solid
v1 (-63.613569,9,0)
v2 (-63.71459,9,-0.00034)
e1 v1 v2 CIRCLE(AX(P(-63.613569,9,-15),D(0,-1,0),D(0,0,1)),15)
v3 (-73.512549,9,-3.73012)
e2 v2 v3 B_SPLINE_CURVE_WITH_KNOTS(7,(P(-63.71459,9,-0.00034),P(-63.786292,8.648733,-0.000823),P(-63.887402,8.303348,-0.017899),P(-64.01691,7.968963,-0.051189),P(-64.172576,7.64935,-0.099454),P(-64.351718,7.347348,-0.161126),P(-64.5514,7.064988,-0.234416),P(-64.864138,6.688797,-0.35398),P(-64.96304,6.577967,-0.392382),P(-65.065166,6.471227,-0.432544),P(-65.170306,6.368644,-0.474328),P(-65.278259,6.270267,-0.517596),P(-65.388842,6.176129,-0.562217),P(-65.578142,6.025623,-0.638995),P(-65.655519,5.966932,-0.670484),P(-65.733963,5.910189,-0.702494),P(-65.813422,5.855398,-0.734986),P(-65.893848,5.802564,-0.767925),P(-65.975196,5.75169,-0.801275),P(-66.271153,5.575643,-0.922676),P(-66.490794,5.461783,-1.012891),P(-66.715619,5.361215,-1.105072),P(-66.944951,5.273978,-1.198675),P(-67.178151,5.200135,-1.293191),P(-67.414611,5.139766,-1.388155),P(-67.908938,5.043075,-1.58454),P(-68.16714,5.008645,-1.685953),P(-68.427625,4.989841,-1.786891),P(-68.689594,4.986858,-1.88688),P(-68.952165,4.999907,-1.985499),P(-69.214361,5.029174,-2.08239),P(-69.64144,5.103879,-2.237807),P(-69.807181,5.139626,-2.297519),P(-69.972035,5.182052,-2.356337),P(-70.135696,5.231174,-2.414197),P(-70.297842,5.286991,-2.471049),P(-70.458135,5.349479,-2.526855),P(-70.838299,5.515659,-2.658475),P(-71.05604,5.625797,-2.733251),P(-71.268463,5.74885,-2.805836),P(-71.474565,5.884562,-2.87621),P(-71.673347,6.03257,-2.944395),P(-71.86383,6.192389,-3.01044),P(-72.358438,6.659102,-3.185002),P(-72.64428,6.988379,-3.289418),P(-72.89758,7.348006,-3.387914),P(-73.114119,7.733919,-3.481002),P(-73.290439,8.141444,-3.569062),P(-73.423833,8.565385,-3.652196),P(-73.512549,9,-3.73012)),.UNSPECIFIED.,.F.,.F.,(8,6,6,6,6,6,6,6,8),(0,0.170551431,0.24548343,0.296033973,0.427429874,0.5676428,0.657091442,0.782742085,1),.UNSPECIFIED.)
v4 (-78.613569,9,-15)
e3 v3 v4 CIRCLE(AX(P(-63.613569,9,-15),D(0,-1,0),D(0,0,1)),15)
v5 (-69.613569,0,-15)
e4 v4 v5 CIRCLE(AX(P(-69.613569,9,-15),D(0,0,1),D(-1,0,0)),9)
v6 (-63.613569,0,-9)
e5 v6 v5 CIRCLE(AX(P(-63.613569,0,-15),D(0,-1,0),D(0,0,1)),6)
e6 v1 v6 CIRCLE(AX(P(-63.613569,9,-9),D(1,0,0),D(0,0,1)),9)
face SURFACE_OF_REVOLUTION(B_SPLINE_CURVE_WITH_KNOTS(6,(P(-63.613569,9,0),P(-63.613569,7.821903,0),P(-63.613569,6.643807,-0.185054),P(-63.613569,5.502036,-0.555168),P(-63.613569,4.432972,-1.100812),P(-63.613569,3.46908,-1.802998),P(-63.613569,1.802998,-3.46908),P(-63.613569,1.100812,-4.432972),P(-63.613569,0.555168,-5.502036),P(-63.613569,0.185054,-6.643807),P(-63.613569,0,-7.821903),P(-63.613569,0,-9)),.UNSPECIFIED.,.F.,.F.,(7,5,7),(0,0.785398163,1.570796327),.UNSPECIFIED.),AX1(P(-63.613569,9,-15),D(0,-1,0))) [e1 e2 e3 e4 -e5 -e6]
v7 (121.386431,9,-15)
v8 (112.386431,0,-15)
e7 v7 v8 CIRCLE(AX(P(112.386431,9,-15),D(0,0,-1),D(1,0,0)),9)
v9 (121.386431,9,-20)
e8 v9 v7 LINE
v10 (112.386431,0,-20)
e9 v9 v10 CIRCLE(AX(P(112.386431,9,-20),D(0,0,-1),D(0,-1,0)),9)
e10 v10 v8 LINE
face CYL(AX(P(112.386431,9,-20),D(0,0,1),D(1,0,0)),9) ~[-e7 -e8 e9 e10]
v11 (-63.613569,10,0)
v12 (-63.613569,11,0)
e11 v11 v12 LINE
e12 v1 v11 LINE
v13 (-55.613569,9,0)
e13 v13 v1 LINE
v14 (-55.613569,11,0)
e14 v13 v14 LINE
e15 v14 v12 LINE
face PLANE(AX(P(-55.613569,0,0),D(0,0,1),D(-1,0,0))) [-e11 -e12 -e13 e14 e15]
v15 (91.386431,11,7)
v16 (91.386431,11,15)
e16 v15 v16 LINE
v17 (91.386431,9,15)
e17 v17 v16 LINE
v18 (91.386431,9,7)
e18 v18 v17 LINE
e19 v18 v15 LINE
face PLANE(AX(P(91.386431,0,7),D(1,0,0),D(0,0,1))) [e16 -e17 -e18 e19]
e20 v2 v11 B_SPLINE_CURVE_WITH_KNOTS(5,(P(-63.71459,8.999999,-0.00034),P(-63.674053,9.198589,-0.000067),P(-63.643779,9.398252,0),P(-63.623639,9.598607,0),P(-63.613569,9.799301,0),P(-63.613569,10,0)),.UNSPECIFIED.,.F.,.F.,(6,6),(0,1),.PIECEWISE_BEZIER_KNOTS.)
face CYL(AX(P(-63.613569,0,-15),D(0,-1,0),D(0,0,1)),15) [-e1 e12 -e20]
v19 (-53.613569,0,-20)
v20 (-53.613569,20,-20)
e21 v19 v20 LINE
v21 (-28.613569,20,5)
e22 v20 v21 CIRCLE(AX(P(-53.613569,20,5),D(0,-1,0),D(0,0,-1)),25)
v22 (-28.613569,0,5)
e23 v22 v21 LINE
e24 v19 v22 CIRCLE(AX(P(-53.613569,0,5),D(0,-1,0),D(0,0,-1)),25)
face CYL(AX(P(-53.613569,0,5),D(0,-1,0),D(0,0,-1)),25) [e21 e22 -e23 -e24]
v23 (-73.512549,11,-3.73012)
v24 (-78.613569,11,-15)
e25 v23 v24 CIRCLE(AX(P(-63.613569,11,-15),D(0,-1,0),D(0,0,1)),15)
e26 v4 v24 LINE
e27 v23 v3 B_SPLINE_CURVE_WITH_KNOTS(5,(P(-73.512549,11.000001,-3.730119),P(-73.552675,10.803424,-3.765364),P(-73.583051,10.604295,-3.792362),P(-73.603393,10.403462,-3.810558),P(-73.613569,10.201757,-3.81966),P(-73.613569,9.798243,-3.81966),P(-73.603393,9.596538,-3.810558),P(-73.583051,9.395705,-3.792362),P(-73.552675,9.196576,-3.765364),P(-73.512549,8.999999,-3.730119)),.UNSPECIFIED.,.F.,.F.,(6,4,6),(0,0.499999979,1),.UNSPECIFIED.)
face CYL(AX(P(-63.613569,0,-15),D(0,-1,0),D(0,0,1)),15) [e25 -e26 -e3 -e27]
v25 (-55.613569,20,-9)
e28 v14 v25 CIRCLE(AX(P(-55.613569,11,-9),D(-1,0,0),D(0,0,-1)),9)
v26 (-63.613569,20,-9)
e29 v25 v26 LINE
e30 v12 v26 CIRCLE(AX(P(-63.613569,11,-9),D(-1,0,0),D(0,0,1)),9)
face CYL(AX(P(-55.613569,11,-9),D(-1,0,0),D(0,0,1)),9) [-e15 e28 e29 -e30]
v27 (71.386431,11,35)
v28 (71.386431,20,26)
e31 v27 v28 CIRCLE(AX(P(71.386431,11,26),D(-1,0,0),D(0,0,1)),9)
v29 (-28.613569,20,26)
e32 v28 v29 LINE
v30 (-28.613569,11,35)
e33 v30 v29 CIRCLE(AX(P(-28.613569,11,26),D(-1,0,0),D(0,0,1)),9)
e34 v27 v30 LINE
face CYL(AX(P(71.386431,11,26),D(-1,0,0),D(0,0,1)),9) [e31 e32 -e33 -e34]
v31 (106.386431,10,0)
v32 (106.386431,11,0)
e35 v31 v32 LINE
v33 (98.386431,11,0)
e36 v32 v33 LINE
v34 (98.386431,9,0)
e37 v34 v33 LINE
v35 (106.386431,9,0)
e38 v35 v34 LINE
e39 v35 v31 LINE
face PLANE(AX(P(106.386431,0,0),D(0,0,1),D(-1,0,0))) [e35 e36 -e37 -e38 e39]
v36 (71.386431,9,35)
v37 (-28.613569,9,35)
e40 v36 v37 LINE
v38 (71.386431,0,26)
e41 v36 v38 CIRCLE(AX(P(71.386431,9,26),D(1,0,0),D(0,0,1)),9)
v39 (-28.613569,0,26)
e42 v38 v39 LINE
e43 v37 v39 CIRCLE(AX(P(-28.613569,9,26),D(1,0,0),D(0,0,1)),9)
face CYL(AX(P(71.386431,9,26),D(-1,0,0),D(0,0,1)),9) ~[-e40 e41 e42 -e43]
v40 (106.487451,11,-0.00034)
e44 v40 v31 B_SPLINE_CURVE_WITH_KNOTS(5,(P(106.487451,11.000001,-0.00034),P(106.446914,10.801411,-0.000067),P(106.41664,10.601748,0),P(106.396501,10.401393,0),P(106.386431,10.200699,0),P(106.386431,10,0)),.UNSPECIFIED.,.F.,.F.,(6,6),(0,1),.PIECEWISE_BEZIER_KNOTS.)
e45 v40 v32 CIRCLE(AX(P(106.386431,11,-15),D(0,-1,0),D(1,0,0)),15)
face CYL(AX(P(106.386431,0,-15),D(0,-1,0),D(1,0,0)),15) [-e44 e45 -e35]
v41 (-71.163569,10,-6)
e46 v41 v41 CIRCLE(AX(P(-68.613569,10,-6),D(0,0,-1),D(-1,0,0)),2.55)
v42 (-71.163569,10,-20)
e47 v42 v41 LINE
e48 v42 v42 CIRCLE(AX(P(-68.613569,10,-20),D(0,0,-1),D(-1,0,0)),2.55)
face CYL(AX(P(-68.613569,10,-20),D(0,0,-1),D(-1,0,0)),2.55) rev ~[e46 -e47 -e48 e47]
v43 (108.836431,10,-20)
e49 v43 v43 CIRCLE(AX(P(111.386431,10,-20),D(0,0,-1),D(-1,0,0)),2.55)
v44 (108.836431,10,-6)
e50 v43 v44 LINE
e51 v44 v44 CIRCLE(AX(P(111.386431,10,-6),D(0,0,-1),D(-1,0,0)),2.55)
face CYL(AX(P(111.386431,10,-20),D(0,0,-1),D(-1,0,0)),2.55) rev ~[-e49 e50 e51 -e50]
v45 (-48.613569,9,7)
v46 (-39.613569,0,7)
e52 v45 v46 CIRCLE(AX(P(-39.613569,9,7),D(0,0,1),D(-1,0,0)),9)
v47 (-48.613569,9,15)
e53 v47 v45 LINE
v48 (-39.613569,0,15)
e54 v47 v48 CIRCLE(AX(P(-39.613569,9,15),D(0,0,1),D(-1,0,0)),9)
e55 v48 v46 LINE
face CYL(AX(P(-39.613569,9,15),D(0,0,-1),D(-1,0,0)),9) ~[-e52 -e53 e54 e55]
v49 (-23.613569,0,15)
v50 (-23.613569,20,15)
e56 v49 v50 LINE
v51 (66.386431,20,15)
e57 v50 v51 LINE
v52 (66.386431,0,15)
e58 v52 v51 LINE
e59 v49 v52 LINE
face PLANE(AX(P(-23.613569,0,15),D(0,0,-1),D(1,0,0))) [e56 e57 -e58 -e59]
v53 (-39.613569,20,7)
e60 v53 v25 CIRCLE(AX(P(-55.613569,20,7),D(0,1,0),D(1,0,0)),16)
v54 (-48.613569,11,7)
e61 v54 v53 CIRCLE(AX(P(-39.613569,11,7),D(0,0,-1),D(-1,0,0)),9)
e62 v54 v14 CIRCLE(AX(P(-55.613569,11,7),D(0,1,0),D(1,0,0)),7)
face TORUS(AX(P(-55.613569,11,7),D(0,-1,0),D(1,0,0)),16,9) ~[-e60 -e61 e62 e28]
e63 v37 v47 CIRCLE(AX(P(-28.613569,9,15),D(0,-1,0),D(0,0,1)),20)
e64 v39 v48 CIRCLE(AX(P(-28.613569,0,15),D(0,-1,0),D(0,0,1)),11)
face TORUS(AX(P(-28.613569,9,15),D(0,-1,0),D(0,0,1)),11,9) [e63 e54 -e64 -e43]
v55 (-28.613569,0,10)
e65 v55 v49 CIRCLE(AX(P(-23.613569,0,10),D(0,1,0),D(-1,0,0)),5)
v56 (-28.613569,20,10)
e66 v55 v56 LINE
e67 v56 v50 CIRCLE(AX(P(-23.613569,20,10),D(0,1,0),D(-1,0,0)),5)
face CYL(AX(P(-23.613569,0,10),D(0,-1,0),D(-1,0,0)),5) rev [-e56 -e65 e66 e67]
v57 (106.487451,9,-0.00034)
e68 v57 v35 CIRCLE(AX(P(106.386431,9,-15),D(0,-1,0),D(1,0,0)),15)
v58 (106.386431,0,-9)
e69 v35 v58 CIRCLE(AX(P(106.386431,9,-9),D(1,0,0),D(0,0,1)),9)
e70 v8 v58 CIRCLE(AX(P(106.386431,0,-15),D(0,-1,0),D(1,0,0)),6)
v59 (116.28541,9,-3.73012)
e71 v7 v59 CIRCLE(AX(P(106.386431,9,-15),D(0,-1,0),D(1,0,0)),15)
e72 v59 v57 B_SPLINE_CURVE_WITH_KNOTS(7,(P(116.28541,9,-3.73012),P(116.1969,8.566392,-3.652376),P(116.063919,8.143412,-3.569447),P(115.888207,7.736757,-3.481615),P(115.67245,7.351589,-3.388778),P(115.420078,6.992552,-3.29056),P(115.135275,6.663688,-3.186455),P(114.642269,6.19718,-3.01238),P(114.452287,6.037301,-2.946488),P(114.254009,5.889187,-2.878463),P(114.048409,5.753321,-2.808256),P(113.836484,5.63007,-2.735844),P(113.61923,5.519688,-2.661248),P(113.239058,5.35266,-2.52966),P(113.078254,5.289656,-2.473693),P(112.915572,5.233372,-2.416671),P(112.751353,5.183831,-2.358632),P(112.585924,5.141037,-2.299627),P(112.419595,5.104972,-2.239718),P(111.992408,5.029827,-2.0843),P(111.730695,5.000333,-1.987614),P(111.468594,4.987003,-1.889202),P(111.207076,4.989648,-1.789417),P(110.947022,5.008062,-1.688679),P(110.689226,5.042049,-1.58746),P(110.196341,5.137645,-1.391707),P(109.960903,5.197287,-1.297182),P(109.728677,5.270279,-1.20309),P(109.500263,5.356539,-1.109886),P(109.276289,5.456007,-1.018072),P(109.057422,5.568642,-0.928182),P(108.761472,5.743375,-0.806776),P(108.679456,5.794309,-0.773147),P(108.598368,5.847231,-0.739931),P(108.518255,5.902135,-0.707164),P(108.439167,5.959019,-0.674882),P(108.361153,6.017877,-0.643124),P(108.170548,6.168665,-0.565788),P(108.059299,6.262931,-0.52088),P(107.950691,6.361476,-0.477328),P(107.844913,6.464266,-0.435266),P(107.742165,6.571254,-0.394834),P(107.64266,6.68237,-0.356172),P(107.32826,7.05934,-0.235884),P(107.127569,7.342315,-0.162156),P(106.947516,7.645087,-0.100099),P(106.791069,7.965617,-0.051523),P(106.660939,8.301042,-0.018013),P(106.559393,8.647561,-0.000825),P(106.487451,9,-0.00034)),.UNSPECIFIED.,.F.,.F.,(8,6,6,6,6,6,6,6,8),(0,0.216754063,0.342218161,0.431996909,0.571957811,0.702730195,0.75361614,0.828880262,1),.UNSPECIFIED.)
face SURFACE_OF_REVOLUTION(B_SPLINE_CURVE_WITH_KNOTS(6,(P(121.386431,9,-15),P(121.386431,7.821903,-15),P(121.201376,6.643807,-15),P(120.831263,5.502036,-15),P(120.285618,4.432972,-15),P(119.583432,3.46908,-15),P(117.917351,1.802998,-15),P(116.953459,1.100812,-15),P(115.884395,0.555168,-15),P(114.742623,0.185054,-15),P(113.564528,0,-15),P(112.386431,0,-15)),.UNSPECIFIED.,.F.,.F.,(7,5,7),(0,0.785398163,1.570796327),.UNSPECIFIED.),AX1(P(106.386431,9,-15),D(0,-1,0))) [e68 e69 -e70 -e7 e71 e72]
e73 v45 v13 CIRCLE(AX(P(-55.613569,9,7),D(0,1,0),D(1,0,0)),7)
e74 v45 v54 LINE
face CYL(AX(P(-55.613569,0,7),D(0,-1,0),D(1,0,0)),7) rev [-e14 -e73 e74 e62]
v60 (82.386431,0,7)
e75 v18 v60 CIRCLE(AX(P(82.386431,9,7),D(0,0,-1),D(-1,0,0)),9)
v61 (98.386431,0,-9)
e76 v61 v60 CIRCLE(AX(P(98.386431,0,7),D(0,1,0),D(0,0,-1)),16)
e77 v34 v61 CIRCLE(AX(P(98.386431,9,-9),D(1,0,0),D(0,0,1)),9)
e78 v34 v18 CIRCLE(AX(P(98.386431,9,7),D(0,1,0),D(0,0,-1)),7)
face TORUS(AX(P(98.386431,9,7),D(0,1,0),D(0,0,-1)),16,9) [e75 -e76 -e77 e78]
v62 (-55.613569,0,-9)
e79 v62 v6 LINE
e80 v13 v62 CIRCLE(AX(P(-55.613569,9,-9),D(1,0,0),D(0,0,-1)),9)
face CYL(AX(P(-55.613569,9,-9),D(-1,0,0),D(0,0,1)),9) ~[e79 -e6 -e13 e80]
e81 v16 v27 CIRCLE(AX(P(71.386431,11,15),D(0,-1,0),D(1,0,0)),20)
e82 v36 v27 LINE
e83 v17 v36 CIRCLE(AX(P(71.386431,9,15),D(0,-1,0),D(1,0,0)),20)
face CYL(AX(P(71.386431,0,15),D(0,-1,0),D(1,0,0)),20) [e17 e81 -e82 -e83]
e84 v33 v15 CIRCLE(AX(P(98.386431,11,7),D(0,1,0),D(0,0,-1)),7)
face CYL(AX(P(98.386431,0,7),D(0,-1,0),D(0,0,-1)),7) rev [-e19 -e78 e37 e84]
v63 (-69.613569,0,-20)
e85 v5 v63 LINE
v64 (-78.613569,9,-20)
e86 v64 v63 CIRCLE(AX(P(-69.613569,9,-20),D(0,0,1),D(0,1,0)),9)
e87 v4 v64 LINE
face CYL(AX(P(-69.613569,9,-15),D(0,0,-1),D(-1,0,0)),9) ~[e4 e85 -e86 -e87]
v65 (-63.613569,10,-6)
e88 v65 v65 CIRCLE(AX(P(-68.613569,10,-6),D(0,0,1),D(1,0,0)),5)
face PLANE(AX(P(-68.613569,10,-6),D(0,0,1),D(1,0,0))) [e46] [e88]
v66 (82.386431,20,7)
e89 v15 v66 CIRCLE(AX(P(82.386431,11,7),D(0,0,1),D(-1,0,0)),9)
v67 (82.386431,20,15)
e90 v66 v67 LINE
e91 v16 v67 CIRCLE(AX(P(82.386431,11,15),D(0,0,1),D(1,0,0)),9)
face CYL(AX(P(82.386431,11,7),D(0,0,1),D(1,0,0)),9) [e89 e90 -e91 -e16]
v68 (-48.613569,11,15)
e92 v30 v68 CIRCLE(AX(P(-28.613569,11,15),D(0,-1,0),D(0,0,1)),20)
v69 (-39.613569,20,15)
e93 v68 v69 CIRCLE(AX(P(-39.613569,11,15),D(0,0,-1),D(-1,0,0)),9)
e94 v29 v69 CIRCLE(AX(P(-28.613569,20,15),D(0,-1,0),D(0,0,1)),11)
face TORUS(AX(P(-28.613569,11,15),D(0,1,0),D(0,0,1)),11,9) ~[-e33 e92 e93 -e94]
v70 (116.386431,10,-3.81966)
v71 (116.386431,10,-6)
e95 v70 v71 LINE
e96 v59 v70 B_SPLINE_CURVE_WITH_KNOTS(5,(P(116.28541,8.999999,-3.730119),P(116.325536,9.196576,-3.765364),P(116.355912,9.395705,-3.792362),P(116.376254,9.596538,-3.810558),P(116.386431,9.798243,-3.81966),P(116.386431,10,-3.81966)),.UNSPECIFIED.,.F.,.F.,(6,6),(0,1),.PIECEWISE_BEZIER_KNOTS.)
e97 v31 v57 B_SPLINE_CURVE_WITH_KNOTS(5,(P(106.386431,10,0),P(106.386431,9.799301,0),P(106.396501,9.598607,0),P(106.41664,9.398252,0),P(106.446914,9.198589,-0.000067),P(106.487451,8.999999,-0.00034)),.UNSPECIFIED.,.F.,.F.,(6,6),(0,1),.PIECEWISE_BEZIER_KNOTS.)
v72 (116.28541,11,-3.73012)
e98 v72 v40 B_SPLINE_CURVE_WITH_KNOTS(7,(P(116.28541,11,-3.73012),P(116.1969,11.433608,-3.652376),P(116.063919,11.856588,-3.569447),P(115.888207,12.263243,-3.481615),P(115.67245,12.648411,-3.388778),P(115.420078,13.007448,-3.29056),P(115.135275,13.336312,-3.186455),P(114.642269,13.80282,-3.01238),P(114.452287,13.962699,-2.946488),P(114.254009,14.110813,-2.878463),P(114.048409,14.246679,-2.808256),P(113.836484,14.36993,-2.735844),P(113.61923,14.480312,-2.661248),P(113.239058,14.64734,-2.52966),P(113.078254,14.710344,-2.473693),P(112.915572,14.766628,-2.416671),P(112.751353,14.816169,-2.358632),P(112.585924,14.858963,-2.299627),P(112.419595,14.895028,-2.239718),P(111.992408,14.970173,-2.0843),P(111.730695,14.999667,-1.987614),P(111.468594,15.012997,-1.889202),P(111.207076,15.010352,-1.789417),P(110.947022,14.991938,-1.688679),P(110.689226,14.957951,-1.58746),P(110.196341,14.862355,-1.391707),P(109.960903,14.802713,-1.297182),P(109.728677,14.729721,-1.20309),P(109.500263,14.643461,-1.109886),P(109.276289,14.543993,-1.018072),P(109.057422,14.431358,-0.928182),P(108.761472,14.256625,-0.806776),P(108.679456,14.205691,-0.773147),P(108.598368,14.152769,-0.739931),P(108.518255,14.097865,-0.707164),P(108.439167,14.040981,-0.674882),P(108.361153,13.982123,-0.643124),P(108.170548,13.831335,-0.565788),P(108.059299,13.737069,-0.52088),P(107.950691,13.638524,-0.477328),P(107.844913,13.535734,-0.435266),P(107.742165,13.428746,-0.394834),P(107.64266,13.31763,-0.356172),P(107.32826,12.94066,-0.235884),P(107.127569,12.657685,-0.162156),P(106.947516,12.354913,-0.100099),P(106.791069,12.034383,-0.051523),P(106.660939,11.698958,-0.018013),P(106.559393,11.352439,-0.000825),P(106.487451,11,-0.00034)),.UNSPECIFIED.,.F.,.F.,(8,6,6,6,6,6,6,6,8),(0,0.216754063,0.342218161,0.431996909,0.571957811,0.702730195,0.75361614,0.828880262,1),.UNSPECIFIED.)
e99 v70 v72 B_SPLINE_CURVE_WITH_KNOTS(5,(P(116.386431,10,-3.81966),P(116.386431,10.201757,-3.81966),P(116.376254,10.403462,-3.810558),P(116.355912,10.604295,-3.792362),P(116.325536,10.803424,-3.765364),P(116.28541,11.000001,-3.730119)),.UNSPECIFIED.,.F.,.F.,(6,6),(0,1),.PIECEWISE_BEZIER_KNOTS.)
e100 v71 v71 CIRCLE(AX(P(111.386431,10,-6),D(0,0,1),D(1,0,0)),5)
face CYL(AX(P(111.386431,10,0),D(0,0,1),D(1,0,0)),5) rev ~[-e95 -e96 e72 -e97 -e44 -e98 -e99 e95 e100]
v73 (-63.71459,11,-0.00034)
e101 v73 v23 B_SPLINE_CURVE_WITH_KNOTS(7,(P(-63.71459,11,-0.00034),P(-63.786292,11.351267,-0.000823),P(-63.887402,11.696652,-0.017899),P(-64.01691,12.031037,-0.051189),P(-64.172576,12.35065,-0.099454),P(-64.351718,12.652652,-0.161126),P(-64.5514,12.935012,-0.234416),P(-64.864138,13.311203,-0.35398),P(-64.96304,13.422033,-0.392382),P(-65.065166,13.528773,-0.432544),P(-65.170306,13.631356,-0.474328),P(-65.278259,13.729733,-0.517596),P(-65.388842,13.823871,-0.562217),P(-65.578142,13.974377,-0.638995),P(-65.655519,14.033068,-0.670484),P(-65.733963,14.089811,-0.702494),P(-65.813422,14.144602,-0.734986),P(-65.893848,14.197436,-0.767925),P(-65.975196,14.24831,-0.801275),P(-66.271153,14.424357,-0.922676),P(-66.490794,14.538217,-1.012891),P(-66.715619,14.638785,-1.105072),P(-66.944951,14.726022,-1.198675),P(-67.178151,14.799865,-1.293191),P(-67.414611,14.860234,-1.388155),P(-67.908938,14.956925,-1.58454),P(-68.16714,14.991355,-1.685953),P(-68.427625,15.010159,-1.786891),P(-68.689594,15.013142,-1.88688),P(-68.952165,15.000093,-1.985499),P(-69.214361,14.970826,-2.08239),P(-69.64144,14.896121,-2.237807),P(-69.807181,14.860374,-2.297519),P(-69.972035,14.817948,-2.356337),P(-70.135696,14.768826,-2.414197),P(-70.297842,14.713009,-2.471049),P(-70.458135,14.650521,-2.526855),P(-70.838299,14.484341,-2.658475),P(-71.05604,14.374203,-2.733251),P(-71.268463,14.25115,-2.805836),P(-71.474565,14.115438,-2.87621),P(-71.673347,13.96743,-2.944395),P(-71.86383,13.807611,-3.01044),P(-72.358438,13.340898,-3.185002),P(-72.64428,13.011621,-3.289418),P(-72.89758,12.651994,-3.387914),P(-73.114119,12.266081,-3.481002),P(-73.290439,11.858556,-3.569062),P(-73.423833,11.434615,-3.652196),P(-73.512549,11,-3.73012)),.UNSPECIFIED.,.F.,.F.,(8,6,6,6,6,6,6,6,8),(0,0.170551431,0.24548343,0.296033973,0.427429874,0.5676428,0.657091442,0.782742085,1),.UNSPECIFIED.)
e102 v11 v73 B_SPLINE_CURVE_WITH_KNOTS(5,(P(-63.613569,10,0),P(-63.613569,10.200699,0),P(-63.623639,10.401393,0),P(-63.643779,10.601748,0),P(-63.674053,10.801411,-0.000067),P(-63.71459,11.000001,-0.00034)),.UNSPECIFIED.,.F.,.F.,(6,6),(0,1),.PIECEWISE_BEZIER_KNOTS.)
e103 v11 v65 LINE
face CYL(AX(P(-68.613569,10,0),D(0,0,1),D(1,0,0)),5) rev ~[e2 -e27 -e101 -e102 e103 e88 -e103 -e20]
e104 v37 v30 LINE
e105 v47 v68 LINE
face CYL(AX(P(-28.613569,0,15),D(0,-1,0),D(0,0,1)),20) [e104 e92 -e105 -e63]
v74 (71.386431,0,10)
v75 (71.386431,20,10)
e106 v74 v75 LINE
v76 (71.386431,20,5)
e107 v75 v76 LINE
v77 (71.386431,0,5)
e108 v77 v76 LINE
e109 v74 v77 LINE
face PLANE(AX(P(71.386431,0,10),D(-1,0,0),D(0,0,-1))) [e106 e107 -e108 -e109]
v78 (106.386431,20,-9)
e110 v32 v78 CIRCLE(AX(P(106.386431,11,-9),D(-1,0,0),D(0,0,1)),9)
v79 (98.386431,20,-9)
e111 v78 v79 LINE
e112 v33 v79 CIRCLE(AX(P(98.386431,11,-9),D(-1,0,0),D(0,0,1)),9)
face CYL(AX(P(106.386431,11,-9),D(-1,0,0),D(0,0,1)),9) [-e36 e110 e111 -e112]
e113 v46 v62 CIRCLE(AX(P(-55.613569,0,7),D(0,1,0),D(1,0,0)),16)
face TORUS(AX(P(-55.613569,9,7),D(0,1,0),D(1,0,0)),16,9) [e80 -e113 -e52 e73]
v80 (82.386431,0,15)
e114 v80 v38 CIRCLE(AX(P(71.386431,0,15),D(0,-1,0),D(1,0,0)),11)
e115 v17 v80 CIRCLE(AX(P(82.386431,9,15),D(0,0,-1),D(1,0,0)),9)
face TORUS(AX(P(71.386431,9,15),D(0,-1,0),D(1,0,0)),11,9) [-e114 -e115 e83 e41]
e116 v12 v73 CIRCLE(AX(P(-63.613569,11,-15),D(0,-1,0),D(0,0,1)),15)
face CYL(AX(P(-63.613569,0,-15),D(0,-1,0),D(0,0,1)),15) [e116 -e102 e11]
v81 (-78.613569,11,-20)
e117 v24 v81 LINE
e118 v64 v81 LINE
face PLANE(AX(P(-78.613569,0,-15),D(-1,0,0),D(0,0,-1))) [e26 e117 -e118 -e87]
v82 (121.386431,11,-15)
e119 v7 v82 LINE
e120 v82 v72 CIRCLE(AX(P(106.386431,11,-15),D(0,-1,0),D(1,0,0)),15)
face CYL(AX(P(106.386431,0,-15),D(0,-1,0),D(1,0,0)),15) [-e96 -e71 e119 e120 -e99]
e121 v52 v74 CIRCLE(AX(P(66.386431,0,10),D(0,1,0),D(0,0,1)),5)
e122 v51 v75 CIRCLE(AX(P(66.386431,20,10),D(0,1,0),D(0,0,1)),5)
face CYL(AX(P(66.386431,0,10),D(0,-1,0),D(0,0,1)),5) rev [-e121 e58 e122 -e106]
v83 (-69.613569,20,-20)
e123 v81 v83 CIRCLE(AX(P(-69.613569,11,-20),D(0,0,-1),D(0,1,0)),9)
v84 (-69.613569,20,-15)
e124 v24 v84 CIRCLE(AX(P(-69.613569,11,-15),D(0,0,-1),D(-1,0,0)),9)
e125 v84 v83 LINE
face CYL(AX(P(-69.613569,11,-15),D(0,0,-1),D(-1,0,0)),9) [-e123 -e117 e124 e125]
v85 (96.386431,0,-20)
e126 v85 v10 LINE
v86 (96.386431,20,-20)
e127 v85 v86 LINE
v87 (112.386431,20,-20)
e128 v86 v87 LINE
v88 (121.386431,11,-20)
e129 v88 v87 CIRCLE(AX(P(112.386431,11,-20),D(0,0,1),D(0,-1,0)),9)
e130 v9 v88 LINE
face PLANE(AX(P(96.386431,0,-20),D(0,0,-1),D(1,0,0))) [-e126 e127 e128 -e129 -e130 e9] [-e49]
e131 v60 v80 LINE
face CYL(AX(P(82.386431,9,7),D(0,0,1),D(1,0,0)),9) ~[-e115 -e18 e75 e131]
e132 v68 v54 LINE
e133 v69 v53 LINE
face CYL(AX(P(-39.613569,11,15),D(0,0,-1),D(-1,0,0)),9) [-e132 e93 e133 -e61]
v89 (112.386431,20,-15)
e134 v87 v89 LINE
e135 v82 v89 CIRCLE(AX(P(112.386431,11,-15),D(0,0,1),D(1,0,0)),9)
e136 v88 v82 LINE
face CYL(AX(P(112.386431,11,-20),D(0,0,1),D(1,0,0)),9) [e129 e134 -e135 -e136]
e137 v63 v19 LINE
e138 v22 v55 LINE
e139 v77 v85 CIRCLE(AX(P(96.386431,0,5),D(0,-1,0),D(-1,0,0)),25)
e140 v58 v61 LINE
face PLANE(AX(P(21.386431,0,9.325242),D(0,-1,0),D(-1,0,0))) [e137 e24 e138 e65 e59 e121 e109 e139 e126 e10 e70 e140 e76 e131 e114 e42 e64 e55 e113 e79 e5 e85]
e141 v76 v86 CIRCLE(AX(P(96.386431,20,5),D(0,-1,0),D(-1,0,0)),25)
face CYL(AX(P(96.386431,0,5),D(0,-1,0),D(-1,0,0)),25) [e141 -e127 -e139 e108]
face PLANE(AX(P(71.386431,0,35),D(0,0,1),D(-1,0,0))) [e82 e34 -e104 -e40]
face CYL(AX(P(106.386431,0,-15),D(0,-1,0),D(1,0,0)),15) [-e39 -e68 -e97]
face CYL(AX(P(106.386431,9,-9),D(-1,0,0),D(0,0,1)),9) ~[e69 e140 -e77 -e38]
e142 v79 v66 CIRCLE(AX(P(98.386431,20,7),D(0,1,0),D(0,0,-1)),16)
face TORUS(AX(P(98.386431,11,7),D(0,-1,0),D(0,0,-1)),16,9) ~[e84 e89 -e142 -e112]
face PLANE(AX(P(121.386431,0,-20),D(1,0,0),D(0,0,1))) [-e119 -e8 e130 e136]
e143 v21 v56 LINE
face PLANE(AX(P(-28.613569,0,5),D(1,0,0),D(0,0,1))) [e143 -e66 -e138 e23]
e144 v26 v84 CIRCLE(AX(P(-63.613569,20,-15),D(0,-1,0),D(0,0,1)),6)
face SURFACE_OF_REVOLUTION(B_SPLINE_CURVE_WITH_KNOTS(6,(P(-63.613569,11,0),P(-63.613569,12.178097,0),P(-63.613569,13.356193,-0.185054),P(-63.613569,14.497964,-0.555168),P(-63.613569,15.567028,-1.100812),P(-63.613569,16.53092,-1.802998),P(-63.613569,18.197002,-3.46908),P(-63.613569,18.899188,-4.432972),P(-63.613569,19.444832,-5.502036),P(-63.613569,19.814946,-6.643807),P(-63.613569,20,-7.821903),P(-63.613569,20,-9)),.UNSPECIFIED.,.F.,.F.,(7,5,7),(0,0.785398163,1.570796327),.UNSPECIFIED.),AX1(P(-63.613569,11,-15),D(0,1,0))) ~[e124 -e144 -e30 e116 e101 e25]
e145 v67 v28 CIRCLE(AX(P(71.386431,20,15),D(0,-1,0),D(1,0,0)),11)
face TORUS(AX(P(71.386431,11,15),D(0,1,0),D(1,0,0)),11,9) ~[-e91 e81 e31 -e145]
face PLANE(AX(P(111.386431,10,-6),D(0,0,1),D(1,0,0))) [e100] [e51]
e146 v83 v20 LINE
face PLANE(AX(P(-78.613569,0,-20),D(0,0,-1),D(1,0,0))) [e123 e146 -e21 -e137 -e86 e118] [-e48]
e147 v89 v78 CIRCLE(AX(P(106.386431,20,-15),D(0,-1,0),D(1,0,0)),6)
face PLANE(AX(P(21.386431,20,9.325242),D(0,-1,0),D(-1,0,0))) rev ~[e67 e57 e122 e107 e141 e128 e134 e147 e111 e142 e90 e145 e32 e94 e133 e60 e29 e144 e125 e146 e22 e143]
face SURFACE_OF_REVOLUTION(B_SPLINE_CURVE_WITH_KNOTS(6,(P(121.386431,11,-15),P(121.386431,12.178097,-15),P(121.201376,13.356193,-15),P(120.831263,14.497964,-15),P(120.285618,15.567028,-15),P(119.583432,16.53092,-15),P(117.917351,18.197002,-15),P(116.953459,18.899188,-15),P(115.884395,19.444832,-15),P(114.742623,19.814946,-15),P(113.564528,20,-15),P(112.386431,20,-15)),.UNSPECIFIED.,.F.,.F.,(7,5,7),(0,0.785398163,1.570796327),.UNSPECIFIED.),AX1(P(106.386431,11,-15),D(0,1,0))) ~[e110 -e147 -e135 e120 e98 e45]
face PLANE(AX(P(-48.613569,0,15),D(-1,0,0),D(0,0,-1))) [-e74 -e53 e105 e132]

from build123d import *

# Parameters (mm, degrees)
EXTRUDE_1_DEPTH     = 20
FILLET_1_R          = 9
SKETCH_2_R          = 2.55
CUT_EXTRUDE_1_DEPTH = 135.75780331
SKETCH_3_R          = 5
CUT_EXTRUDE_2_DEPTH = 6


with BuildPart() as part:
    # Эскиз1 → Бобышка-Вытянуть1 (new body)
    with BuildSketch(Plane(origin=(0, 0, 0), x_dir=(1, 0, 0), z_dir=(0, 1, 0))):
        with BuildLine():
            Line((-78.613569322, 20), (-53.613569322, 20))
            ThreePointArc((-53.613569322, 20), (-35.935899792, 12.67766953), (-28.613569322, -5))
            Line((-28.613569322, -5), (-28.613569322, -10))
            ThreePointArc((-28.613569322, -10), (-27.149103227, -13.535533906), (-23.613569322, -15))
            Line((-23.613569322, -15), (66.386430678, -15))
            ThreePointArc((66.386430678, -15), (69.921964584, -13.535533906), (71.386430678, -10))
            Line((71.386430678, -10), (71.386430678, -5))
            ThreePointArc((71.386430678, -5), (78.708761149, 12.67766953), (96.386430678, 20))
            Line((96.386430678, 20), (121.386430678, 20))
            Line((121.386430678, 20), (121.386430678, 15))
            ThreePointArc((121.386430678, 15), (116.993032396, 4.393398282), (106.386430678, 0))
            Line((106.386430678, 0), (98.386430678, 0))
            ThreePointArc((98.386430678, 0), (93.43668321, -2.050252532), (91.386430678, -7))
            Line((91.386430678, -7), (91.386430678, -15))
            ThreePointArc((91.386430678, -15), (85.528566302, -29.142135624), (71.386430678, -35))
            Line((71.386430678, -35), (-28.613569322, -35))
            ThreePointArc((-28.613569322, -35), (-42.755704945, -29.142135624), (-48.613569322, -15))
            Line((-48.613569322, -15), (-48.613569322, -7))
            ThreePointArc((-48.613569322, -7), (-50.663821853, -2.050252532), (-55.613569322, 0))
            Line((-55.613569322, 0), (-63.613569322, 0))
            ThreePointArc((-63.613569322, 0), (-74.220171039, 4.393398282), (-78.613569322, 15))
            Line((-78.613569322, 15), (-78.613569322, 20))
        make_face()
    extrude(amount=EXTRUDE_1_DEPTH)

    # Скругление1
    fillet_1_edges = [part.edges().sort_by_distance(p)[0] for p in [
        (-59.613569322, 20, 0),
        (-50.663821853, 20, 2.050252532),
        (-48.613569322, 20, 11),
        (-42.755704945, 20, 29.142135624),
        (21.386430678, 20, 35),
        (121.386430678, 0, -17.5),
        (116.993032396, 0, -4.393398282),
        (102.386430678, 0, 0),
        (93.43668321, 0, 2.050252532),
        (91.386430678, 0, 11),
        (85.528566302, 0, 29.142135624),
        (21.386430678, 0, 35),
        (85.528566302, 20, 29.142135624),
        (-42.755704945, 0, 29.142135624),
        (-48.613569322, 0, 11),
        (-50.663821853, 0, 2.050252532),
        (-59.613569322, 0, 0),
        (-74.220171039, 0, -4.393398282),
        (-78.613569322, 0, -17.5),
        (91.386430678, 20, 11),
        (93.43668321, 20, 2.050252532),
        (102.386430678, 20, 0),
        (116.993032396, 20, -4.393398282),
        (-78.613569322, 20, -17.5),
        (121.386430678, 20, -17.5),
        (-74.220171039, 20, -4.393398282),
    ]]
    fillet(fillet_1_edges, radius=FILLET_1_R)

    # Эскиз2 → Вырез-Вытянуть1 (cut, through all)
    with BuildSketch(Plane(origin=(0, 0, -20), x_dir=(-1, 0, 0), z_dir=(0, 0, -1))):
        with Locations((-111.386430678, 10)):
            Circle(SKETCH_2_R)
        with Locations((68.613569322, 10)):
            Circle(SKETCH_2_R)
    extrude(amount=-CUT_EXTRUDE_1_DEPTH, mode=Mode.SUBTRACT)

    # Эскиз3 → Вырез-Вытянуть2 (cut)
    with BuildSketch(Plane.XY):
        with Locations((-68.613569322, 10)):
            Circle(SKETCH_3_R)
        with Locations((111.386430678, 10)):
            Circle(SKETCH_3_R)
    extrude(amount=-CUT_EXTRUDE_2_DEPTH, mode=Mode.SUBTRACT)


solid = part.part
